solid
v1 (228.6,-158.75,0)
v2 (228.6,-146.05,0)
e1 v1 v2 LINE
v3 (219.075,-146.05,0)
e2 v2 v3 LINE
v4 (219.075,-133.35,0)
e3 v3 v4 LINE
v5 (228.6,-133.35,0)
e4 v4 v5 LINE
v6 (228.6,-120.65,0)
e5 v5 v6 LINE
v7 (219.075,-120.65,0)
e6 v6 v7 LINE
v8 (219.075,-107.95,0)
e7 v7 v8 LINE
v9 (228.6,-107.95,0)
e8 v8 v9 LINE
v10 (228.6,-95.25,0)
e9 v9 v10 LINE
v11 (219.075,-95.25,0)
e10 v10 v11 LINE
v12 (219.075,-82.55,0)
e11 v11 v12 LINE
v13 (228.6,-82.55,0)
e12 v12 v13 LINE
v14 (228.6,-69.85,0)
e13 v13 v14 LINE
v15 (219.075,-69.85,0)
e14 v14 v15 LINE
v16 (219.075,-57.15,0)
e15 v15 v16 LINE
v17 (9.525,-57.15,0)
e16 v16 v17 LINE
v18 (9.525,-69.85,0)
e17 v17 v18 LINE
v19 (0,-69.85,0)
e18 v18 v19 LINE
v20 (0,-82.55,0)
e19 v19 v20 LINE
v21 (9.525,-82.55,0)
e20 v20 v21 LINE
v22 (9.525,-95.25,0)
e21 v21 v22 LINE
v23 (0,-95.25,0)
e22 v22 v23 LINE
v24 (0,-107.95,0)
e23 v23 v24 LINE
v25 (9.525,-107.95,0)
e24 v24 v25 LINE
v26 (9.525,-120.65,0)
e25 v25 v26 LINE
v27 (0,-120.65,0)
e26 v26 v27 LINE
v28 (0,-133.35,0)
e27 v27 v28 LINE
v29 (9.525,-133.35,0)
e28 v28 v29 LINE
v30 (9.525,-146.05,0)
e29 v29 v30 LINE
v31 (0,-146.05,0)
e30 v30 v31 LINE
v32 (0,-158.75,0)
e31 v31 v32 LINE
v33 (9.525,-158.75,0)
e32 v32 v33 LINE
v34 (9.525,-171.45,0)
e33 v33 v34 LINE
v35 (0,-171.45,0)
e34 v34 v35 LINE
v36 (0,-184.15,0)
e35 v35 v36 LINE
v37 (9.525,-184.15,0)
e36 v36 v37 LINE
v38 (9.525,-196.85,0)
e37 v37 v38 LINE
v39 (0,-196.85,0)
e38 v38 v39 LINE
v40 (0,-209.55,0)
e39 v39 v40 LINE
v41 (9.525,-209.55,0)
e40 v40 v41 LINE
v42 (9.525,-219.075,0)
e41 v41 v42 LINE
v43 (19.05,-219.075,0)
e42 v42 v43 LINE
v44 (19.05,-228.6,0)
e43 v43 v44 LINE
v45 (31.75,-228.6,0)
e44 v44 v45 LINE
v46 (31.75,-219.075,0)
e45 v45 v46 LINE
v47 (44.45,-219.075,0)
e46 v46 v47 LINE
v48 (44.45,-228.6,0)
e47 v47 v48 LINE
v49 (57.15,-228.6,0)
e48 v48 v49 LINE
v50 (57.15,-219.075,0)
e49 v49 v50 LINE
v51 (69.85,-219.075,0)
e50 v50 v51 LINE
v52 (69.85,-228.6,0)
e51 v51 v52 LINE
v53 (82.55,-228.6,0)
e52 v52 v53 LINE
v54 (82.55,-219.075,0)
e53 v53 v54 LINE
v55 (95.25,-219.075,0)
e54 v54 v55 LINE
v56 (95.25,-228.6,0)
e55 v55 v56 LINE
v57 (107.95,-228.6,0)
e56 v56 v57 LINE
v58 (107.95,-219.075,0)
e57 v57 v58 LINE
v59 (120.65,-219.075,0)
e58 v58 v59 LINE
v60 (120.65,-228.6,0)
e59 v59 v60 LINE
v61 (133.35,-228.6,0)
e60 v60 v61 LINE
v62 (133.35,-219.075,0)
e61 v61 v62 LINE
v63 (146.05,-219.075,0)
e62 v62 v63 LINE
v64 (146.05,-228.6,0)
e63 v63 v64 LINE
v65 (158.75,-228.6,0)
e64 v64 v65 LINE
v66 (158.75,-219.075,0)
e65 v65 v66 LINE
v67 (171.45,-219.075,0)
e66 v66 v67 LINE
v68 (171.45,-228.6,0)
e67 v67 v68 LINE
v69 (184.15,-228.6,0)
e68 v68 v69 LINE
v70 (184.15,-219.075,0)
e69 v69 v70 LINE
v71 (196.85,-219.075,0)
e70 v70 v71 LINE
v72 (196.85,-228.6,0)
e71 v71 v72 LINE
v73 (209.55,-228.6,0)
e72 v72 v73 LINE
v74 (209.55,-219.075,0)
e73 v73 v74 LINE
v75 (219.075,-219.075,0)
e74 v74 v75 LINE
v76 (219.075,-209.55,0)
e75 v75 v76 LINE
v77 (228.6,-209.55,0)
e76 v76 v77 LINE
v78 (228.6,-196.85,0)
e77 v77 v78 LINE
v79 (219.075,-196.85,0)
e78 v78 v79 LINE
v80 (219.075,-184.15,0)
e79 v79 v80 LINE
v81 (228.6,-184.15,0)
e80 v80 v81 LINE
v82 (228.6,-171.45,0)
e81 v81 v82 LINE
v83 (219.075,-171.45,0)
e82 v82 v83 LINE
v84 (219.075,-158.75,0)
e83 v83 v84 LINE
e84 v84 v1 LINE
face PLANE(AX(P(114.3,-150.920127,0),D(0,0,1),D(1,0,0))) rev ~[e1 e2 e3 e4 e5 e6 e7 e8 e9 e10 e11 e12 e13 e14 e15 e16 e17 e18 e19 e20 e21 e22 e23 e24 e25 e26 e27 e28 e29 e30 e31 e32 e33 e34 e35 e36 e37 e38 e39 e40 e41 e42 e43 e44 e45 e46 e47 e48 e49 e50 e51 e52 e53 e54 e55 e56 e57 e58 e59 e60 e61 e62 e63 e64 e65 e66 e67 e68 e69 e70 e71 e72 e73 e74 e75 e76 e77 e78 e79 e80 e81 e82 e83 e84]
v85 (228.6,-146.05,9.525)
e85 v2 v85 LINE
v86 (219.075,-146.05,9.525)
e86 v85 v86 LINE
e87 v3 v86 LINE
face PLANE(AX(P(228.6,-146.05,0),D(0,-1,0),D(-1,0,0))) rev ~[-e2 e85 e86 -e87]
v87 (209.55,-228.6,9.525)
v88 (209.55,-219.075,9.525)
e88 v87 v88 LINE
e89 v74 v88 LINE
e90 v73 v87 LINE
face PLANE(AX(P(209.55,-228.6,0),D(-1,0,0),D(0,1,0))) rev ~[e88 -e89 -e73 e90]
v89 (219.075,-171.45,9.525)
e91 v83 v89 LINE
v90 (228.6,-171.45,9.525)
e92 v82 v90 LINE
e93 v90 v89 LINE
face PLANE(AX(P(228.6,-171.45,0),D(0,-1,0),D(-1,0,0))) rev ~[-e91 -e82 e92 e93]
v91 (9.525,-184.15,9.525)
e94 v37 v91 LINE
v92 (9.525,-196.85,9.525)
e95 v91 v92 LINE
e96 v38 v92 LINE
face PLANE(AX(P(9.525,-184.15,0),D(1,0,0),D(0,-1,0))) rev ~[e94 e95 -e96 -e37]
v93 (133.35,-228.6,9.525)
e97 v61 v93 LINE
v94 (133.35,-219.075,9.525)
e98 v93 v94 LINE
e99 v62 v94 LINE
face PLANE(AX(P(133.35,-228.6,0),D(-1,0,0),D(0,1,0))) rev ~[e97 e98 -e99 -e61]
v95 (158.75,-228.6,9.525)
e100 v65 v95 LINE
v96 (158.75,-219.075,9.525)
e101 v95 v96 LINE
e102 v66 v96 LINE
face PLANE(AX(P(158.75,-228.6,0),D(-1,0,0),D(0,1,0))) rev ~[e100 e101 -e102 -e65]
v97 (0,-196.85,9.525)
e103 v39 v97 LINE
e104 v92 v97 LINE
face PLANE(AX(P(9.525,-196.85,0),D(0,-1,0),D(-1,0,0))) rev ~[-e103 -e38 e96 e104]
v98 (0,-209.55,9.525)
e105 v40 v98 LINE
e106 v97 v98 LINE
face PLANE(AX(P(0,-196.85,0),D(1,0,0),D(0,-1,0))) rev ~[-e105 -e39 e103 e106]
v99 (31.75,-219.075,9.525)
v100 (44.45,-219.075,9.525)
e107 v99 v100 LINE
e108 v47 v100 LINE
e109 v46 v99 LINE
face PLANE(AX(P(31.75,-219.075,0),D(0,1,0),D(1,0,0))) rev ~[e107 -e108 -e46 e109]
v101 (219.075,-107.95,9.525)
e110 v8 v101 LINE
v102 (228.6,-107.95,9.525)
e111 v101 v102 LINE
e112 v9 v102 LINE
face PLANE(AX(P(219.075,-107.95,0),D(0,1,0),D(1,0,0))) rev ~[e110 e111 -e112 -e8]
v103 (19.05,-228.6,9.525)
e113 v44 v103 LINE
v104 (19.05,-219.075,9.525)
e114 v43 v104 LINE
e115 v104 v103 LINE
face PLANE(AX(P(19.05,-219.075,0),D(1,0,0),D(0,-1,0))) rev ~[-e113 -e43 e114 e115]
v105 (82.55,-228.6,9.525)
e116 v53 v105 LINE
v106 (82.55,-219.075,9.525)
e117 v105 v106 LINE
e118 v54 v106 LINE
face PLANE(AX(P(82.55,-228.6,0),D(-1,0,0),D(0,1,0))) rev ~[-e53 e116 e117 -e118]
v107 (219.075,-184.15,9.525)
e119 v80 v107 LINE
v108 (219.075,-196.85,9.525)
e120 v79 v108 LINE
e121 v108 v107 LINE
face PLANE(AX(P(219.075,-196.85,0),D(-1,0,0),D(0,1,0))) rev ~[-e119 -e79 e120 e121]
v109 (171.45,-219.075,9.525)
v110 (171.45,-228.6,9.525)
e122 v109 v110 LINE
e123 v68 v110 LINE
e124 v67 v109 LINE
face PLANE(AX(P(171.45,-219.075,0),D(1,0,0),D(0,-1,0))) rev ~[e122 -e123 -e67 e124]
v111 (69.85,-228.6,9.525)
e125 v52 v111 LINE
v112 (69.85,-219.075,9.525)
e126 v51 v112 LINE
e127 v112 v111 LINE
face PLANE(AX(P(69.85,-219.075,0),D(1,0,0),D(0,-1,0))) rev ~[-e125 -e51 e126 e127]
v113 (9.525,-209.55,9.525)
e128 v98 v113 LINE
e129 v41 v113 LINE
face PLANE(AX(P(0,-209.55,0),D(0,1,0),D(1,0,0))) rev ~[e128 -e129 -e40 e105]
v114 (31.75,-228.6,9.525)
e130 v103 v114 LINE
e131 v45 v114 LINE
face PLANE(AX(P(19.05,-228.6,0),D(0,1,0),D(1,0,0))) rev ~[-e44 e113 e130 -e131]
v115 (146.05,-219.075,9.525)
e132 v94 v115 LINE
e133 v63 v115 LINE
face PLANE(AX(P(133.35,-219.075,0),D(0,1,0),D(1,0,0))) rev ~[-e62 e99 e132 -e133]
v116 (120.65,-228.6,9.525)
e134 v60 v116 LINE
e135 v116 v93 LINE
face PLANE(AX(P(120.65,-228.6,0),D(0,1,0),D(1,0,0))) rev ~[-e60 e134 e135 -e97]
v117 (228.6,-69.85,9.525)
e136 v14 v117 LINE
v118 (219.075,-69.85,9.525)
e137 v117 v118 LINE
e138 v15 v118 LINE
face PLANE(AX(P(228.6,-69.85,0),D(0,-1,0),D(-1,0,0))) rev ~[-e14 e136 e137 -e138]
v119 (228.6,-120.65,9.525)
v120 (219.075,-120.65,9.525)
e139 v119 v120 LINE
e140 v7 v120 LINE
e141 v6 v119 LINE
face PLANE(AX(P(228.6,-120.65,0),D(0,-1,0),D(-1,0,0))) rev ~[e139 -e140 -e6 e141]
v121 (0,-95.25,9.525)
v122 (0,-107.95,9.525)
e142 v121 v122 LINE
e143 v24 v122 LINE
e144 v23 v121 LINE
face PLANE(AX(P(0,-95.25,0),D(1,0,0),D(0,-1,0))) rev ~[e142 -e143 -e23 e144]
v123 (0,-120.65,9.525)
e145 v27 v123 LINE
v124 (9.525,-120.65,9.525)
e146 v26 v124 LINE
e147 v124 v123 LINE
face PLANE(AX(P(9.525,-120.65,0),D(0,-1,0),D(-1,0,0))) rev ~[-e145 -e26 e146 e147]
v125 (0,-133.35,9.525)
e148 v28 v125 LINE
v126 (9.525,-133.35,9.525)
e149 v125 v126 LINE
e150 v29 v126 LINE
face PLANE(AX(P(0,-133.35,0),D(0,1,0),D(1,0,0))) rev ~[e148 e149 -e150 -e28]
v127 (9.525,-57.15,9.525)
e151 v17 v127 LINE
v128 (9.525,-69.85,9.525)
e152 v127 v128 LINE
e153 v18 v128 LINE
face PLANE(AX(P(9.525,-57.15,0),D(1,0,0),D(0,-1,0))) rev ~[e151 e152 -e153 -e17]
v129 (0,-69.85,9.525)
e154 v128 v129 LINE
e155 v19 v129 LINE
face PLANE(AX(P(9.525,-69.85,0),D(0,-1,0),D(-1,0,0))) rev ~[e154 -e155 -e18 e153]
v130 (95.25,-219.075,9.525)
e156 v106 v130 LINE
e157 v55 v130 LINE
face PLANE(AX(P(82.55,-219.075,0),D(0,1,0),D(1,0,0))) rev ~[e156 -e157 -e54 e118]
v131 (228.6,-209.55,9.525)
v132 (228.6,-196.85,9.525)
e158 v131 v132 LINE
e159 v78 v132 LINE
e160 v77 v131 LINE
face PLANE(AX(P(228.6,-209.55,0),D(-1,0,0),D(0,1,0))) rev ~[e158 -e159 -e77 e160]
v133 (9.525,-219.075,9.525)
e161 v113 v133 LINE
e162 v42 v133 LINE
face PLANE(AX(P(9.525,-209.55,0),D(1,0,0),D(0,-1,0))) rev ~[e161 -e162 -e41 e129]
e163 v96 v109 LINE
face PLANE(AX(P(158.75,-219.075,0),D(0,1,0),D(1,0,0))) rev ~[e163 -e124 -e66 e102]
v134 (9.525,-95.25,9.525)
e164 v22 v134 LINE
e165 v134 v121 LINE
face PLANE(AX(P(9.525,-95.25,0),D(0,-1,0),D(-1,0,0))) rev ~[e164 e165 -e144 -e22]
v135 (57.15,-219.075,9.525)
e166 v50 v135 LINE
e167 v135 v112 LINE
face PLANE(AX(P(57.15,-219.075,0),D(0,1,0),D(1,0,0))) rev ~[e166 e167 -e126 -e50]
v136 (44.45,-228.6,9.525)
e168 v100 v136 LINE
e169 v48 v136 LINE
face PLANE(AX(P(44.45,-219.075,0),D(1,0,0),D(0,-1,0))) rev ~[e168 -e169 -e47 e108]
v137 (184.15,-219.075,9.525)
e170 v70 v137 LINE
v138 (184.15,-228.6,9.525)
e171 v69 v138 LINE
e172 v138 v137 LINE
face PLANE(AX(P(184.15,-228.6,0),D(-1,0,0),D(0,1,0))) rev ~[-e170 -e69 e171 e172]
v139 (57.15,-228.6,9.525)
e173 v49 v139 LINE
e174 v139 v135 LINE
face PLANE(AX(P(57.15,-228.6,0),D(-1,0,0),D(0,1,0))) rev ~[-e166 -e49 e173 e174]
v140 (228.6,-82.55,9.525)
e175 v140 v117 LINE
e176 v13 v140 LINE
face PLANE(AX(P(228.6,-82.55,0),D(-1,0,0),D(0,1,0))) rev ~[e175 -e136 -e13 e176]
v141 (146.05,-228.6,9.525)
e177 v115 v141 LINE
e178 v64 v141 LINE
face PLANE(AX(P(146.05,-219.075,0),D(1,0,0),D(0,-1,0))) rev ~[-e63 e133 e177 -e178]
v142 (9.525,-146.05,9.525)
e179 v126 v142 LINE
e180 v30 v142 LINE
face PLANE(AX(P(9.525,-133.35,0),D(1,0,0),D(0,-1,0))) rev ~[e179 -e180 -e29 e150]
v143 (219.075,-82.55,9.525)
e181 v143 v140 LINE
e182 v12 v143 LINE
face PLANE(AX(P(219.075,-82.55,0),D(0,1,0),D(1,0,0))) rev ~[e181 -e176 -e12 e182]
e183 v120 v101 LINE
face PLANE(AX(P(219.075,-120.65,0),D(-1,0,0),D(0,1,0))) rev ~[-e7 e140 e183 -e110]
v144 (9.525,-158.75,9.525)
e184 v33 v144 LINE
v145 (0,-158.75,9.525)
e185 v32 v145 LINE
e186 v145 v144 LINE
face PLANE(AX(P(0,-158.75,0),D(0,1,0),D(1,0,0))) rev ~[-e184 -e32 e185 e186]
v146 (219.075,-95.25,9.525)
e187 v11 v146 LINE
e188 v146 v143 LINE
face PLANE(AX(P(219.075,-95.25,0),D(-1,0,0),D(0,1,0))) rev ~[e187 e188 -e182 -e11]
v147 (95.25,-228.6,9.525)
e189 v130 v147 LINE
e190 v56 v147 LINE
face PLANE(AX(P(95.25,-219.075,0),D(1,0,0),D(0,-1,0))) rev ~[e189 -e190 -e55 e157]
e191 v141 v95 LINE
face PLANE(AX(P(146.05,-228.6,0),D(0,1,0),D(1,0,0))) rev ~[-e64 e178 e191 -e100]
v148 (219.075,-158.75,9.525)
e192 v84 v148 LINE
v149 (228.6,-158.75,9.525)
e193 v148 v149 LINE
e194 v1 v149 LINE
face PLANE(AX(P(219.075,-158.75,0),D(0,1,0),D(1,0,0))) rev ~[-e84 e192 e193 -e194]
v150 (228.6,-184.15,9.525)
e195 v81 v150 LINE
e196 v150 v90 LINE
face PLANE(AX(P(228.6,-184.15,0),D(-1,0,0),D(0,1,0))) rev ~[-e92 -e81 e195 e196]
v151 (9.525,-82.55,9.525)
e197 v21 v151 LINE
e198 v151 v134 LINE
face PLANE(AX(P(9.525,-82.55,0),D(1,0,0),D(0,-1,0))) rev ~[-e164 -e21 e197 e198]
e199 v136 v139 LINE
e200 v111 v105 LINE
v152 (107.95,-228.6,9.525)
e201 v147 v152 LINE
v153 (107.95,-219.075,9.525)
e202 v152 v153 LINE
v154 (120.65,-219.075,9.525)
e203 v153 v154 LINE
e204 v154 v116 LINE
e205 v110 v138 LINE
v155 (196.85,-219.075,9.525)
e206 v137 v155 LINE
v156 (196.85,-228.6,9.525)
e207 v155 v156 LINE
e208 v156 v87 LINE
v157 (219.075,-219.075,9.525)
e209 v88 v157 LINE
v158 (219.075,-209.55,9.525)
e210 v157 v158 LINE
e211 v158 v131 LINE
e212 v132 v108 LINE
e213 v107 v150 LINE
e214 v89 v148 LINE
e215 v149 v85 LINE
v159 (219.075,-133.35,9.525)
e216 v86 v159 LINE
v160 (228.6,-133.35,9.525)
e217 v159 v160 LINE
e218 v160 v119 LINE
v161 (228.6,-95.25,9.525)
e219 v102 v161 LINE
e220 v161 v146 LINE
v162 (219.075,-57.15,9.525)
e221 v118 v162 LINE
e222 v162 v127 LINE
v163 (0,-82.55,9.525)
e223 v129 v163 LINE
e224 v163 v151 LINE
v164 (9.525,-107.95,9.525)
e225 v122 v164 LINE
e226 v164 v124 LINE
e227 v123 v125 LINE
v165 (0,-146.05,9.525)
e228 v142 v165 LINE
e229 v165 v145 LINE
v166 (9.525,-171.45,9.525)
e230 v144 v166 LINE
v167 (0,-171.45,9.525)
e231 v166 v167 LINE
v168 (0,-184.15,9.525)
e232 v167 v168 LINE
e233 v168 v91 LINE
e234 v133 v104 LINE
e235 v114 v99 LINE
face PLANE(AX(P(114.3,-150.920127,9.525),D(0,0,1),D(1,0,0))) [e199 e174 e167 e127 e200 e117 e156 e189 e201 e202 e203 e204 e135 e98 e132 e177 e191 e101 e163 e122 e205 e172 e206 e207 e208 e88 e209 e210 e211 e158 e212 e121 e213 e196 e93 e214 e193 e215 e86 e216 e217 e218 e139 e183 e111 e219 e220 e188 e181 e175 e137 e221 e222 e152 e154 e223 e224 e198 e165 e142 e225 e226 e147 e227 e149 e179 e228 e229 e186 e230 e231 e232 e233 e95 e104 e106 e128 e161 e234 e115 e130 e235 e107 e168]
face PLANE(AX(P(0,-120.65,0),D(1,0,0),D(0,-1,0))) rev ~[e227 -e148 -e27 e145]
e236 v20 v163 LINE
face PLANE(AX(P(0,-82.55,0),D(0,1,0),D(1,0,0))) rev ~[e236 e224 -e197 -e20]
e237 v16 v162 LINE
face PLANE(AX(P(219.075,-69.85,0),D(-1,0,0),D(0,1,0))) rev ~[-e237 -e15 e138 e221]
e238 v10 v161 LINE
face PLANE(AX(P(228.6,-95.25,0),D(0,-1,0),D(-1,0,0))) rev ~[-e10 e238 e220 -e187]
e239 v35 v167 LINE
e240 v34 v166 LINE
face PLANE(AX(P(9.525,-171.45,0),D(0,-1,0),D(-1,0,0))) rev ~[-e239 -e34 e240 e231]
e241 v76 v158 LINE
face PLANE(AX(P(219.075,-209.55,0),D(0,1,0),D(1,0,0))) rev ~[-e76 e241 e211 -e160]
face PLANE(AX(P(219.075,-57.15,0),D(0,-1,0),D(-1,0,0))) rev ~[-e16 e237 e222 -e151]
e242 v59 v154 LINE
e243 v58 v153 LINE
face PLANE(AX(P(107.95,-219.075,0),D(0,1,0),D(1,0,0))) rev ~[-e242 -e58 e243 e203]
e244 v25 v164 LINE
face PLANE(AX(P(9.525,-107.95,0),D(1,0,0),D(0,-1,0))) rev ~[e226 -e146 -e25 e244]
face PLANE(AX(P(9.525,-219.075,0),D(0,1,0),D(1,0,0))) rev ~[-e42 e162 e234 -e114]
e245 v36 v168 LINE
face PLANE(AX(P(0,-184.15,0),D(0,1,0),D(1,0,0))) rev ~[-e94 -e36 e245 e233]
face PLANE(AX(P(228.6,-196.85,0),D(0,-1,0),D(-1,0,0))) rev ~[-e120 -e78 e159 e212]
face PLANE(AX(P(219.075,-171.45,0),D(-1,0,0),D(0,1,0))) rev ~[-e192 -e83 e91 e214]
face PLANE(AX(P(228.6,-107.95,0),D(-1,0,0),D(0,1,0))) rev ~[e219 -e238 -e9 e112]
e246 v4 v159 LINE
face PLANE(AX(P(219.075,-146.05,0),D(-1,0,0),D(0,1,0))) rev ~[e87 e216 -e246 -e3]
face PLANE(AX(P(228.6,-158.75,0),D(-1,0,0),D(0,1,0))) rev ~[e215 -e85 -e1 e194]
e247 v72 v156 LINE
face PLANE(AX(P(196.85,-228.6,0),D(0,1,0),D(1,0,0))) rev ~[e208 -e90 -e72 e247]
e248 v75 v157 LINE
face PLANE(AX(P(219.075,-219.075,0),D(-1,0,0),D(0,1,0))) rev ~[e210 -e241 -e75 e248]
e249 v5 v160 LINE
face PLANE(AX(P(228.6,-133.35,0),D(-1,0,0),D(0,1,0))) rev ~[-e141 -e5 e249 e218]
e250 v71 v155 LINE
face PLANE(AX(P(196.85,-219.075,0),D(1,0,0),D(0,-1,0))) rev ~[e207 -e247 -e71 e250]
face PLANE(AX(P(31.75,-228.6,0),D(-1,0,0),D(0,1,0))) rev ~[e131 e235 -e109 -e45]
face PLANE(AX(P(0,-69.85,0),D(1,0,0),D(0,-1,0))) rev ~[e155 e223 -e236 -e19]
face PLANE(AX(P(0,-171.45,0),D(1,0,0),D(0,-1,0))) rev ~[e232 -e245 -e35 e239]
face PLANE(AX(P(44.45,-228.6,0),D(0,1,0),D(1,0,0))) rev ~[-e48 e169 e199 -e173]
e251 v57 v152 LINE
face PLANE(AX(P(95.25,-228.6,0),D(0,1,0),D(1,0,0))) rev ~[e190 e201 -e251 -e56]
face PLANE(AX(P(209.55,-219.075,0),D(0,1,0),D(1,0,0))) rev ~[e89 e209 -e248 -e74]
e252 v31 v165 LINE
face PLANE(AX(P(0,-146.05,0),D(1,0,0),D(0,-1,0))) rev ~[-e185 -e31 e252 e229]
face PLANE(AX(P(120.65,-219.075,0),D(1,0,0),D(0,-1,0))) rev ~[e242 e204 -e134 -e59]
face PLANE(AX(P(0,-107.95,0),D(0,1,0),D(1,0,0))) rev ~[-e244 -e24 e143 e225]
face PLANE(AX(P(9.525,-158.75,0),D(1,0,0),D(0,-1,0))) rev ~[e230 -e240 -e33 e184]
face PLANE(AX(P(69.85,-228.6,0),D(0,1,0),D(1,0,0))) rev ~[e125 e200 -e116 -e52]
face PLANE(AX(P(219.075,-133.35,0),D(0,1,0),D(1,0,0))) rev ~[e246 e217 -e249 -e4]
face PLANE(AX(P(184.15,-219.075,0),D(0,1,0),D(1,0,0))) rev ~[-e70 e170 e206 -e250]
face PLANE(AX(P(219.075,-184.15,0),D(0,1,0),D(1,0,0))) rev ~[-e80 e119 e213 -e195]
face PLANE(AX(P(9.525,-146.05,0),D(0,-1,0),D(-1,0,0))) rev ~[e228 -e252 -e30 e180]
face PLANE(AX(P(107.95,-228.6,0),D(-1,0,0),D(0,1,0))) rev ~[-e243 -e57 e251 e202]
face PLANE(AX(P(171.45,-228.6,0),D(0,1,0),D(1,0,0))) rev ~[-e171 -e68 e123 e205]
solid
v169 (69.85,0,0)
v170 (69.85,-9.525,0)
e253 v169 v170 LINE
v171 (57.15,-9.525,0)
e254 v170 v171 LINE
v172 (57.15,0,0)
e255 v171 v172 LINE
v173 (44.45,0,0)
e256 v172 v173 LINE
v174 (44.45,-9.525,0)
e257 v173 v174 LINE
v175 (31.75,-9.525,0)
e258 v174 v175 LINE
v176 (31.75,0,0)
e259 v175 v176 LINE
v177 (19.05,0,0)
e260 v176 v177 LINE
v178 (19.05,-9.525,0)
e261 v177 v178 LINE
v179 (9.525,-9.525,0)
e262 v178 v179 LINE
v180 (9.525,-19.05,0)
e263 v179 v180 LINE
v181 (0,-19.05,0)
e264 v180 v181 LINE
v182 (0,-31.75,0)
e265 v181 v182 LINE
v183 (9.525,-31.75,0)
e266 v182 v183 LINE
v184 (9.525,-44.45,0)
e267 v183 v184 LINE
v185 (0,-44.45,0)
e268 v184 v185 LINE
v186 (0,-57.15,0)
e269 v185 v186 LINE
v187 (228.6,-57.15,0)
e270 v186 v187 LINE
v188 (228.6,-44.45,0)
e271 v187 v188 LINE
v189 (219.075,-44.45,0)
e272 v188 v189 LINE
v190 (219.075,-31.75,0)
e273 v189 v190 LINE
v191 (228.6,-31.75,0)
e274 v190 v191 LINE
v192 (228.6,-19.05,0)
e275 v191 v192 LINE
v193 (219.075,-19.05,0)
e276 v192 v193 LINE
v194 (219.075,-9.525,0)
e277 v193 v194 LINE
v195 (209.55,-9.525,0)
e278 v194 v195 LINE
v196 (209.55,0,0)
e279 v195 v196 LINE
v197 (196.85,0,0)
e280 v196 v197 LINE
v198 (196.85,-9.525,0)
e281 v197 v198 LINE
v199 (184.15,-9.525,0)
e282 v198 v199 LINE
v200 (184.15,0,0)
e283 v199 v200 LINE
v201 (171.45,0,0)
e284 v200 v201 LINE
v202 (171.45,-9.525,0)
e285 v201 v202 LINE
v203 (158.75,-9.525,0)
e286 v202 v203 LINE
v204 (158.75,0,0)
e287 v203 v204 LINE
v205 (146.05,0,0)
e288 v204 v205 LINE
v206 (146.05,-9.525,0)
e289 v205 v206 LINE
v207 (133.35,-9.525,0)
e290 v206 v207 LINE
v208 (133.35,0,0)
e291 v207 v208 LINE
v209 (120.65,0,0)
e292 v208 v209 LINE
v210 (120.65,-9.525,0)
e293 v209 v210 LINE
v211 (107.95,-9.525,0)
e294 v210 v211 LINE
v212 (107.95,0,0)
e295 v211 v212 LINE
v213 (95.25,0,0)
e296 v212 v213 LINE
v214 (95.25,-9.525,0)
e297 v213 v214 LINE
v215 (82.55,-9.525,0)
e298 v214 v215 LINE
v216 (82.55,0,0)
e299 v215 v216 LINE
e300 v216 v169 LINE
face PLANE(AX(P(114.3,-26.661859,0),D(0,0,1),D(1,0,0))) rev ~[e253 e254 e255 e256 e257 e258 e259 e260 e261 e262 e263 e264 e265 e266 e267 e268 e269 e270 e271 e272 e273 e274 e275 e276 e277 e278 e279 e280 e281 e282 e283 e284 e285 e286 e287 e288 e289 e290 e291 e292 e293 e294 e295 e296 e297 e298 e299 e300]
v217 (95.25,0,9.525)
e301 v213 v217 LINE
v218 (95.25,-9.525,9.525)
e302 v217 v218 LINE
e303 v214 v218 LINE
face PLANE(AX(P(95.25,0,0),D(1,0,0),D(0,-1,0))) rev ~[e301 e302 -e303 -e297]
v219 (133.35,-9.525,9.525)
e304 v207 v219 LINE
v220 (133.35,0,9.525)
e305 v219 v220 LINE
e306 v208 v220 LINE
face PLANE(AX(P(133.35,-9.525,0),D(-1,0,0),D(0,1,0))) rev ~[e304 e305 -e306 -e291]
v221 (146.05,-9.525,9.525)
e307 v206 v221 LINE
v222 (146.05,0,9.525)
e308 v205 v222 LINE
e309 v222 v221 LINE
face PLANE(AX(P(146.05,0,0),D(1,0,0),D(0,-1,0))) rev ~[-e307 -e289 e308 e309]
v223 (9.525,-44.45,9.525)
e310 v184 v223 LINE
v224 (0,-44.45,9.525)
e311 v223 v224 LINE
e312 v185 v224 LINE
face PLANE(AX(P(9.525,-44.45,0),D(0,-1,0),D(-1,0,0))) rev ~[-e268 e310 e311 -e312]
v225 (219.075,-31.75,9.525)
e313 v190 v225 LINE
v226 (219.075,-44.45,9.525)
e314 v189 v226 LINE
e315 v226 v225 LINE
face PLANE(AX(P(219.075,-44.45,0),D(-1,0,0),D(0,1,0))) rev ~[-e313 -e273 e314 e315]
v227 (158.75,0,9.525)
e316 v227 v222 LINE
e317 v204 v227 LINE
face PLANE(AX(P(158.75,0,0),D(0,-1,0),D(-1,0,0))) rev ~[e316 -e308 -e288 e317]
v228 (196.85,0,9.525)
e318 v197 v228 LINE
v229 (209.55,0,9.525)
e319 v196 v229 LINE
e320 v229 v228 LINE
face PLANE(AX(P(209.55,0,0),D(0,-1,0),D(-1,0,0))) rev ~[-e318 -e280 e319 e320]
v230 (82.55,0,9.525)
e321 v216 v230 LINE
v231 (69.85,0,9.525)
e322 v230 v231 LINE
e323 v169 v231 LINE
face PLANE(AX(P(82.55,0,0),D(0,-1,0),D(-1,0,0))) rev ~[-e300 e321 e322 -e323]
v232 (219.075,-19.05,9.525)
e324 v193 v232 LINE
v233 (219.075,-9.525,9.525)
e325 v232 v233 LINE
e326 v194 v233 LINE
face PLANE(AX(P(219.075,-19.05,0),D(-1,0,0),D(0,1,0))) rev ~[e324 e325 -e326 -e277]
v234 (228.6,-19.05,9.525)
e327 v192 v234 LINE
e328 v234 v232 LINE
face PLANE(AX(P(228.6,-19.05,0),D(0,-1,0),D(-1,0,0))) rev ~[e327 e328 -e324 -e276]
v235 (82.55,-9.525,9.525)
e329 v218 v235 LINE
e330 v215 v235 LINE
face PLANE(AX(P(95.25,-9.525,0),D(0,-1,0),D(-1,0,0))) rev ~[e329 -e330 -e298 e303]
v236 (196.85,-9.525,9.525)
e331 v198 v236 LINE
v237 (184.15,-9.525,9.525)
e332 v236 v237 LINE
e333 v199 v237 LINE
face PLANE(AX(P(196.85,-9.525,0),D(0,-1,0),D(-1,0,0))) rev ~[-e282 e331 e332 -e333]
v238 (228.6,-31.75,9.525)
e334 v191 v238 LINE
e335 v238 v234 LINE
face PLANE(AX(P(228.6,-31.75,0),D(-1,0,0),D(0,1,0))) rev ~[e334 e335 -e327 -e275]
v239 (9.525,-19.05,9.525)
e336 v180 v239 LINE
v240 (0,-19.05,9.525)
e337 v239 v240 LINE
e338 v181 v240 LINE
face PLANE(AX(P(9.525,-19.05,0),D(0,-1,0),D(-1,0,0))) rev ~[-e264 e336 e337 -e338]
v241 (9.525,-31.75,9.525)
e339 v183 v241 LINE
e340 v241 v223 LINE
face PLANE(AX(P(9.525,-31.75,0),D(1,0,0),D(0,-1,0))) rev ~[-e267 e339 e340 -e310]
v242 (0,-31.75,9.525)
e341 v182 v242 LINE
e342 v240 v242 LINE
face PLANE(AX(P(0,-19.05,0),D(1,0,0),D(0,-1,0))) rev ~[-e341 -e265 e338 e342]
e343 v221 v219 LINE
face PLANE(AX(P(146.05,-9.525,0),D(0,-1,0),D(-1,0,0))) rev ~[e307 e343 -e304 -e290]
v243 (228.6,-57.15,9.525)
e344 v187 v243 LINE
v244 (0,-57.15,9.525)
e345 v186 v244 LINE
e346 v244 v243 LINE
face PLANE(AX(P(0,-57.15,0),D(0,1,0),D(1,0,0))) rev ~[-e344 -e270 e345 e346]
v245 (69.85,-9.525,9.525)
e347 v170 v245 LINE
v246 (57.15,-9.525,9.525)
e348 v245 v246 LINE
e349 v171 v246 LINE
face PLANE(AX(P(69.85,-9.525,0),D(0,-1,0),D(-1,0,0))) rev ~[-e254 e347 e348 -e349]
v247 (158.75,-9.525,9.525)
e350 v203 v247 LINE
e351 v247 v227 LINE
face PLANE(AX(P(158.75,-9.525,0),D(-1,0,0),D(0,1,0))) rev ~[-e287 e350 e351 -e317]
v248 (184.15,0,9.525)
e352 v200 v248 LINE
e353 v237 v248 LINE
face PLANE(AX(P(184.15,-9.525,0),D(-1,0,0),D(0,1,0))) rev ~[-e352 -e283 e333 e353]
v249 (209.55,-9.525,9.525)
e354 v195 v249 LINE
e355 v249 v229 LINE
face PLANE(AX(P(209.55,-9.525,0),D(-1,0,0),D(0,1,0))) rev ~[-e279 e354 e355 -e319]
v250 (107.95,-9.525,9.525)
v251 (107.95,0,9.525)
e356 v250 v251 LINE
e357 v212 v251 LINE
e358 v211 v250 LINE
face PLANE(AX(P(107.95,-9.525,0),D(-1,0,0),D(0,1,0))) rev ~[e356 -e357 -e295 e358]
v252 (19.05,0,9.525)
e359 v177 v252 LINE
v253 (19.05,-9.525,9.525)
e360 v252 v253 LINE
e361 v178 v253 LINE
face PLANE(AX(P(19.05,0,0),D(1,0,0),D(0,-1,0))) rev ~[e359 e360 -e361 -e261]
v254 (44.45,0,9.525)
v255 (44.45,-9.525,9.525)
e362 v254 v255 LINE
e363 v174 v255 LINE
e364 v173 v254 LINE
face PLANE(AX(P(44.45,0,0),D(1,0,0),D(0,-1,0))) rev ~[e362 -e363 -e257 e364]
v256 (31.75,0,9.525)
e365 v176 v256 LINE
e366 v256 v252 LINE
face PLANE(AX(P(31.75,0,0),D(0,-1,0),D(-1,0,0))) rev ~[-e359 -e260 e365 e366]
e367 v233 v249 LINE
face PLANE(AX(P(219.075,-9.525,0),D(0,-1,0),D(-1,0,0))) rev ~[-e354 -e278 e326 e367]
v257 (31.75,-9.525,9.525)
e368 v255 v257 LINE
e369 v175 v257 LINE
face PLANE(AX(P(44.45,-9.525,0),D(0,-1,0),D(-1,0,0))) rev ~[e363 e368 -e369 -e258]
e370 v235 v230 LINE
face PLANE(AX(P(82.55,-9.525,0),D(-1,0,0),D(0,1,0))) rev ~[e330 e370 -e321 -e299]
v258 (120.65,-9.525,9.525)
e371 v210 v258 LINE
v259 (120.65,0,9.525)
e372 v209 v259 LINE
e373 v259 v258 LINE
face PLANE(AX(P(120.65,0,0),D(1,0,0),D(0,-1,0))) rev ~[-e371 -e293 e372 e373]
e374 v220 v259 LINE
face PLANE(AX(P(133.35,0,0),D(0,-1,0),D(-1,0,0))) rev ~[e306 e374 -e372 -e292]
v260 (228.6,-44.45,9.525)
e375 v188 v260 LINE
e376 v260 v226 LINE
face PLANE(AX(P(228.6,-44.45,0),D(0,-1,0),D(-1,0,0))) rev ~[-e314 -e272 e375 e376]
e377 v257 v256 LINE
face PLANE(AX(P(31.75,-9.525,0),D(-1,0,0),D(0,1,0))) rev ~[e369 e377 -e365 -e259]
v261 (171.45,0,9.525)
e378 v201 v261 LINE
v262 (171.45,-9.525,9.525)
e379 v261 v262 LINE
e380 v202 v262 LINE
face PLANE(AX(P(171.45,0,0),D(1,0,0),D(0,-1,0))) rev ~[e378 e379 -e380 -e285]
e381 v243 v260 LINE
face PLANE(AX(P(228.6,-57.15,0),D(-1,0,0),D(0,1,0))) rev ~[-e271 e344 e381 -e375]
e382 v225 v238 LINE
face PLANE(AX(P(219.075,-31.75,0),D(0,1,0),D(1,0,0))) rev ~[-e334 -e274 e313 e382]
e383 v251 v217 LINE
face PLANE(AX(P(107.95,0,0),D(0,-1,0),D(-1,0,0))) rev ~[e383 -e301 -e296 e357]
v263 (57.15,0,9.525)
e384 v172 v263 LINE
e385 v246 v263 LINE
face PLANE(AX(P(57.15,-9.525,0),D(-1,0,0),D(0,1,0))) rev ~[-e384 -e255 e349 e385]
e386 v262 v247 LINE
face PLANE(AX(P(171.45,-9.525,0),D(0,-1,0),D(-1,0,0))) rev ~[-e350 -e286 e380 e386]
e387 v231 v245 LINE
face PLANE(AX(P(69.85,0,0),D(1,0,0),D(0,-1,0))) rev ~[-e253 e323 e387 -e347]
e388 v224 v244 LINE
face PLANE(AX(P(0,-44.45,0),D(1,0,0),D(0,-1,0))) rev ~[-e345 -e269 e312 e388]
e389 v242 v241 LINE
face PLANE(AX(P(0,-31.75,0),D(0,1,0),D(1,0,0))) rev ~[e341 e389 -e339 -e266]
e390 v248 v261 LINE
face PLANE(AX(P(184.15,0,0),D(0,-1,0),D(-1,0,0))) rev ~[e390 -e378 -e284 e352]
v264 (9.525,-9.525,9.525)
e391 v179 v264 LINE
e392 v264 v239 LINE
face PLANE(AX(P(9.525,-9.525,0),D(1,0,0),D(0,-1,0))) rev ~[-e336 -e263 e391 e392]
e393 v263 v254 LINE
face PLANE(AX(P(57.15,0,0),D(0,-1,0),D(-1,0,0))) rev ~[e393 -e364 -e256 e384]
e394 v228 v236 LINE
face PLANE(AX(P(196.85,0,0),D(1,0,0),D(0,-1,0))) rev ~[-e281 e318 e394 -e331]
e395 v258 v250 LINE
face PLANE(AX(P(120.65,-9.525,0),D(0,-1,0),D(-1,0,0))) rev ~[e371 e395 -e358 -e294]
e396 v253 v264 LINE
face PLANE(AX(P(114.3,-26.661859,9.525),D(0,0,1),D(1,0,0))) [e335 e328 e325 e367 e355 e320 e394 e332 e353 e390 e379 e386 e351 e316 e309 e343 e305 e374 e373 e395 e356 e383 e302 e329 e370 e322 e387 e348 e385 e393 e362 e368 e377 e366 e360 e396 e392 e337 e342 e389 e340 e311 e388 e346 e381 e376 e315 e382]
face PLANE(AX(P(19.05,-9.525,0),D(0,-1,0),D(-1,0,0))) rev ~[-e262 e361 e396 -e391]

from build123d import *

# Parameters (mm, degrees)
F1_DEPTH = 9.525
F2_DEPTH = 9.525


with BuildPart() as f1:
    # F0 (on Top) → F1 (new body)
    with BuildSketch(Plane.XY):
        Polygon((31.75, 0), (19.05, 0), (19.05, -9.525), (9.525, -9.525), (9.525, -19.05), (0, -19.05), (0, -31.75), (9.525, -31.75), (9.525, -44.45), (0, -44.45), (0, -57.15), (9.525, -57.15), (219.075, -57.15), (228.6, -57.15), (228.6, -44.45), (219.075, -44.45), (219.075, -31.75), (228.6, -31.75), (228.6, -19.05), (219.075, -19.05), (219.075, -9.525), (209.55, -9.525), (209.55, 0), (196.85, 0), (196.85, -9.525), (184.15, -9.525), (184.15, 0), (171.45, 0), (171.45, -9.525), (158.75, -9.525), (158.75, 0), (146.05, 0), (146.05, -9.525), (133.35, -9.525), (133.35, 0), (120.65, 0), (120.65, -9.525), (107.95, -9.525), (107.95, 0), (95.25, 0), (95.25, -9.525), (82.55, -9.525), (82.55, 0), (69.85, 0), (69.85, -9.525), (57.15, -9.525), (57.15, 0), (44.45, 0), (44.45, -9.525), (31.75, -9.525), align=None)
    extrude(amount=F1_DEPTH)


with BuildPart() as f2:
    # F0 (on Top) → F2 (new body)
    with BuildSketch(Plane.XY):
        Polygon((219.075, -57.15), (9.525, -57.15), (9.525, -69.85), (0, -69.85), (0, -82.55), (9.525, -82.55), (9.525, -95.25), (0, -95.25), (0, -107.95), (9.525, -107.95), (9.525, -120.65), (0, -120.65), (0, -133.35), (9.525, -133.35), (9.525, -146.05), (0, -146.05), (0, -158.75), (9.525, -158.75), (9.525, -171.45), (0, -171.45), (0, -184.15), (9.525, -184.15), (9.525, -196.85), (0, -196.85), (0, -209.55), (9.525, -209.55), (9.525, -219.075), (19.05, -219.075), (19.05, -228.6), (31.75, -228.6), (31.75, -219.075), (44.45, -219.075), (44.45, -228.6), (57.15, -228.6), (57.15, -219.075), (69.85, -219.075), (69.85, -228.6), (82.55, -228.6), (82.55, -219.075), (95.25, -219.075), (95.25, -228.6), (107.95, -228.6), (107.95, -219.075), (120.65, -219.075), (120.65, -228.6), (133.35, -228.6), (133.35, -219.075), (146.05, -219.075), (146.05, -228.6), (158.75, -228.6), (158.75, -219.075), (171.45, -219.075), (171.45, -228.6), (184.15, -228.6), (184.15, -219.075), (196.85, -219.075), (196.85, -228.6), (209.55, -228.6), (209.55, -219.075), (219.075, -219.075), (219.075, -209.55), (228.6, -209.55), (228.6, -196.85), (219.075, -196.85), (219.075, -184.15), (228.6, -184.15), (228.6, -171.45), (219.075, -171.45), (219.075, -158.75), (228.6, -158.75), (228.6, -146.05), (219.075, -146.05), (219.075, -133.35), (228.6, -133.35), (228.6, -120.65), (219.075, -120.65), (219.075, -107.95), (228.6, -107.95), (228.6, -95.25), (219.075, -95.25), (219.075, -82.55), (228.6, -82.55), (228.6, -69.85), (219.075, -69.85), align=None)
    extrude(amount=F2_DEPTH)


solid = Compound([f1.part, f2.part])
